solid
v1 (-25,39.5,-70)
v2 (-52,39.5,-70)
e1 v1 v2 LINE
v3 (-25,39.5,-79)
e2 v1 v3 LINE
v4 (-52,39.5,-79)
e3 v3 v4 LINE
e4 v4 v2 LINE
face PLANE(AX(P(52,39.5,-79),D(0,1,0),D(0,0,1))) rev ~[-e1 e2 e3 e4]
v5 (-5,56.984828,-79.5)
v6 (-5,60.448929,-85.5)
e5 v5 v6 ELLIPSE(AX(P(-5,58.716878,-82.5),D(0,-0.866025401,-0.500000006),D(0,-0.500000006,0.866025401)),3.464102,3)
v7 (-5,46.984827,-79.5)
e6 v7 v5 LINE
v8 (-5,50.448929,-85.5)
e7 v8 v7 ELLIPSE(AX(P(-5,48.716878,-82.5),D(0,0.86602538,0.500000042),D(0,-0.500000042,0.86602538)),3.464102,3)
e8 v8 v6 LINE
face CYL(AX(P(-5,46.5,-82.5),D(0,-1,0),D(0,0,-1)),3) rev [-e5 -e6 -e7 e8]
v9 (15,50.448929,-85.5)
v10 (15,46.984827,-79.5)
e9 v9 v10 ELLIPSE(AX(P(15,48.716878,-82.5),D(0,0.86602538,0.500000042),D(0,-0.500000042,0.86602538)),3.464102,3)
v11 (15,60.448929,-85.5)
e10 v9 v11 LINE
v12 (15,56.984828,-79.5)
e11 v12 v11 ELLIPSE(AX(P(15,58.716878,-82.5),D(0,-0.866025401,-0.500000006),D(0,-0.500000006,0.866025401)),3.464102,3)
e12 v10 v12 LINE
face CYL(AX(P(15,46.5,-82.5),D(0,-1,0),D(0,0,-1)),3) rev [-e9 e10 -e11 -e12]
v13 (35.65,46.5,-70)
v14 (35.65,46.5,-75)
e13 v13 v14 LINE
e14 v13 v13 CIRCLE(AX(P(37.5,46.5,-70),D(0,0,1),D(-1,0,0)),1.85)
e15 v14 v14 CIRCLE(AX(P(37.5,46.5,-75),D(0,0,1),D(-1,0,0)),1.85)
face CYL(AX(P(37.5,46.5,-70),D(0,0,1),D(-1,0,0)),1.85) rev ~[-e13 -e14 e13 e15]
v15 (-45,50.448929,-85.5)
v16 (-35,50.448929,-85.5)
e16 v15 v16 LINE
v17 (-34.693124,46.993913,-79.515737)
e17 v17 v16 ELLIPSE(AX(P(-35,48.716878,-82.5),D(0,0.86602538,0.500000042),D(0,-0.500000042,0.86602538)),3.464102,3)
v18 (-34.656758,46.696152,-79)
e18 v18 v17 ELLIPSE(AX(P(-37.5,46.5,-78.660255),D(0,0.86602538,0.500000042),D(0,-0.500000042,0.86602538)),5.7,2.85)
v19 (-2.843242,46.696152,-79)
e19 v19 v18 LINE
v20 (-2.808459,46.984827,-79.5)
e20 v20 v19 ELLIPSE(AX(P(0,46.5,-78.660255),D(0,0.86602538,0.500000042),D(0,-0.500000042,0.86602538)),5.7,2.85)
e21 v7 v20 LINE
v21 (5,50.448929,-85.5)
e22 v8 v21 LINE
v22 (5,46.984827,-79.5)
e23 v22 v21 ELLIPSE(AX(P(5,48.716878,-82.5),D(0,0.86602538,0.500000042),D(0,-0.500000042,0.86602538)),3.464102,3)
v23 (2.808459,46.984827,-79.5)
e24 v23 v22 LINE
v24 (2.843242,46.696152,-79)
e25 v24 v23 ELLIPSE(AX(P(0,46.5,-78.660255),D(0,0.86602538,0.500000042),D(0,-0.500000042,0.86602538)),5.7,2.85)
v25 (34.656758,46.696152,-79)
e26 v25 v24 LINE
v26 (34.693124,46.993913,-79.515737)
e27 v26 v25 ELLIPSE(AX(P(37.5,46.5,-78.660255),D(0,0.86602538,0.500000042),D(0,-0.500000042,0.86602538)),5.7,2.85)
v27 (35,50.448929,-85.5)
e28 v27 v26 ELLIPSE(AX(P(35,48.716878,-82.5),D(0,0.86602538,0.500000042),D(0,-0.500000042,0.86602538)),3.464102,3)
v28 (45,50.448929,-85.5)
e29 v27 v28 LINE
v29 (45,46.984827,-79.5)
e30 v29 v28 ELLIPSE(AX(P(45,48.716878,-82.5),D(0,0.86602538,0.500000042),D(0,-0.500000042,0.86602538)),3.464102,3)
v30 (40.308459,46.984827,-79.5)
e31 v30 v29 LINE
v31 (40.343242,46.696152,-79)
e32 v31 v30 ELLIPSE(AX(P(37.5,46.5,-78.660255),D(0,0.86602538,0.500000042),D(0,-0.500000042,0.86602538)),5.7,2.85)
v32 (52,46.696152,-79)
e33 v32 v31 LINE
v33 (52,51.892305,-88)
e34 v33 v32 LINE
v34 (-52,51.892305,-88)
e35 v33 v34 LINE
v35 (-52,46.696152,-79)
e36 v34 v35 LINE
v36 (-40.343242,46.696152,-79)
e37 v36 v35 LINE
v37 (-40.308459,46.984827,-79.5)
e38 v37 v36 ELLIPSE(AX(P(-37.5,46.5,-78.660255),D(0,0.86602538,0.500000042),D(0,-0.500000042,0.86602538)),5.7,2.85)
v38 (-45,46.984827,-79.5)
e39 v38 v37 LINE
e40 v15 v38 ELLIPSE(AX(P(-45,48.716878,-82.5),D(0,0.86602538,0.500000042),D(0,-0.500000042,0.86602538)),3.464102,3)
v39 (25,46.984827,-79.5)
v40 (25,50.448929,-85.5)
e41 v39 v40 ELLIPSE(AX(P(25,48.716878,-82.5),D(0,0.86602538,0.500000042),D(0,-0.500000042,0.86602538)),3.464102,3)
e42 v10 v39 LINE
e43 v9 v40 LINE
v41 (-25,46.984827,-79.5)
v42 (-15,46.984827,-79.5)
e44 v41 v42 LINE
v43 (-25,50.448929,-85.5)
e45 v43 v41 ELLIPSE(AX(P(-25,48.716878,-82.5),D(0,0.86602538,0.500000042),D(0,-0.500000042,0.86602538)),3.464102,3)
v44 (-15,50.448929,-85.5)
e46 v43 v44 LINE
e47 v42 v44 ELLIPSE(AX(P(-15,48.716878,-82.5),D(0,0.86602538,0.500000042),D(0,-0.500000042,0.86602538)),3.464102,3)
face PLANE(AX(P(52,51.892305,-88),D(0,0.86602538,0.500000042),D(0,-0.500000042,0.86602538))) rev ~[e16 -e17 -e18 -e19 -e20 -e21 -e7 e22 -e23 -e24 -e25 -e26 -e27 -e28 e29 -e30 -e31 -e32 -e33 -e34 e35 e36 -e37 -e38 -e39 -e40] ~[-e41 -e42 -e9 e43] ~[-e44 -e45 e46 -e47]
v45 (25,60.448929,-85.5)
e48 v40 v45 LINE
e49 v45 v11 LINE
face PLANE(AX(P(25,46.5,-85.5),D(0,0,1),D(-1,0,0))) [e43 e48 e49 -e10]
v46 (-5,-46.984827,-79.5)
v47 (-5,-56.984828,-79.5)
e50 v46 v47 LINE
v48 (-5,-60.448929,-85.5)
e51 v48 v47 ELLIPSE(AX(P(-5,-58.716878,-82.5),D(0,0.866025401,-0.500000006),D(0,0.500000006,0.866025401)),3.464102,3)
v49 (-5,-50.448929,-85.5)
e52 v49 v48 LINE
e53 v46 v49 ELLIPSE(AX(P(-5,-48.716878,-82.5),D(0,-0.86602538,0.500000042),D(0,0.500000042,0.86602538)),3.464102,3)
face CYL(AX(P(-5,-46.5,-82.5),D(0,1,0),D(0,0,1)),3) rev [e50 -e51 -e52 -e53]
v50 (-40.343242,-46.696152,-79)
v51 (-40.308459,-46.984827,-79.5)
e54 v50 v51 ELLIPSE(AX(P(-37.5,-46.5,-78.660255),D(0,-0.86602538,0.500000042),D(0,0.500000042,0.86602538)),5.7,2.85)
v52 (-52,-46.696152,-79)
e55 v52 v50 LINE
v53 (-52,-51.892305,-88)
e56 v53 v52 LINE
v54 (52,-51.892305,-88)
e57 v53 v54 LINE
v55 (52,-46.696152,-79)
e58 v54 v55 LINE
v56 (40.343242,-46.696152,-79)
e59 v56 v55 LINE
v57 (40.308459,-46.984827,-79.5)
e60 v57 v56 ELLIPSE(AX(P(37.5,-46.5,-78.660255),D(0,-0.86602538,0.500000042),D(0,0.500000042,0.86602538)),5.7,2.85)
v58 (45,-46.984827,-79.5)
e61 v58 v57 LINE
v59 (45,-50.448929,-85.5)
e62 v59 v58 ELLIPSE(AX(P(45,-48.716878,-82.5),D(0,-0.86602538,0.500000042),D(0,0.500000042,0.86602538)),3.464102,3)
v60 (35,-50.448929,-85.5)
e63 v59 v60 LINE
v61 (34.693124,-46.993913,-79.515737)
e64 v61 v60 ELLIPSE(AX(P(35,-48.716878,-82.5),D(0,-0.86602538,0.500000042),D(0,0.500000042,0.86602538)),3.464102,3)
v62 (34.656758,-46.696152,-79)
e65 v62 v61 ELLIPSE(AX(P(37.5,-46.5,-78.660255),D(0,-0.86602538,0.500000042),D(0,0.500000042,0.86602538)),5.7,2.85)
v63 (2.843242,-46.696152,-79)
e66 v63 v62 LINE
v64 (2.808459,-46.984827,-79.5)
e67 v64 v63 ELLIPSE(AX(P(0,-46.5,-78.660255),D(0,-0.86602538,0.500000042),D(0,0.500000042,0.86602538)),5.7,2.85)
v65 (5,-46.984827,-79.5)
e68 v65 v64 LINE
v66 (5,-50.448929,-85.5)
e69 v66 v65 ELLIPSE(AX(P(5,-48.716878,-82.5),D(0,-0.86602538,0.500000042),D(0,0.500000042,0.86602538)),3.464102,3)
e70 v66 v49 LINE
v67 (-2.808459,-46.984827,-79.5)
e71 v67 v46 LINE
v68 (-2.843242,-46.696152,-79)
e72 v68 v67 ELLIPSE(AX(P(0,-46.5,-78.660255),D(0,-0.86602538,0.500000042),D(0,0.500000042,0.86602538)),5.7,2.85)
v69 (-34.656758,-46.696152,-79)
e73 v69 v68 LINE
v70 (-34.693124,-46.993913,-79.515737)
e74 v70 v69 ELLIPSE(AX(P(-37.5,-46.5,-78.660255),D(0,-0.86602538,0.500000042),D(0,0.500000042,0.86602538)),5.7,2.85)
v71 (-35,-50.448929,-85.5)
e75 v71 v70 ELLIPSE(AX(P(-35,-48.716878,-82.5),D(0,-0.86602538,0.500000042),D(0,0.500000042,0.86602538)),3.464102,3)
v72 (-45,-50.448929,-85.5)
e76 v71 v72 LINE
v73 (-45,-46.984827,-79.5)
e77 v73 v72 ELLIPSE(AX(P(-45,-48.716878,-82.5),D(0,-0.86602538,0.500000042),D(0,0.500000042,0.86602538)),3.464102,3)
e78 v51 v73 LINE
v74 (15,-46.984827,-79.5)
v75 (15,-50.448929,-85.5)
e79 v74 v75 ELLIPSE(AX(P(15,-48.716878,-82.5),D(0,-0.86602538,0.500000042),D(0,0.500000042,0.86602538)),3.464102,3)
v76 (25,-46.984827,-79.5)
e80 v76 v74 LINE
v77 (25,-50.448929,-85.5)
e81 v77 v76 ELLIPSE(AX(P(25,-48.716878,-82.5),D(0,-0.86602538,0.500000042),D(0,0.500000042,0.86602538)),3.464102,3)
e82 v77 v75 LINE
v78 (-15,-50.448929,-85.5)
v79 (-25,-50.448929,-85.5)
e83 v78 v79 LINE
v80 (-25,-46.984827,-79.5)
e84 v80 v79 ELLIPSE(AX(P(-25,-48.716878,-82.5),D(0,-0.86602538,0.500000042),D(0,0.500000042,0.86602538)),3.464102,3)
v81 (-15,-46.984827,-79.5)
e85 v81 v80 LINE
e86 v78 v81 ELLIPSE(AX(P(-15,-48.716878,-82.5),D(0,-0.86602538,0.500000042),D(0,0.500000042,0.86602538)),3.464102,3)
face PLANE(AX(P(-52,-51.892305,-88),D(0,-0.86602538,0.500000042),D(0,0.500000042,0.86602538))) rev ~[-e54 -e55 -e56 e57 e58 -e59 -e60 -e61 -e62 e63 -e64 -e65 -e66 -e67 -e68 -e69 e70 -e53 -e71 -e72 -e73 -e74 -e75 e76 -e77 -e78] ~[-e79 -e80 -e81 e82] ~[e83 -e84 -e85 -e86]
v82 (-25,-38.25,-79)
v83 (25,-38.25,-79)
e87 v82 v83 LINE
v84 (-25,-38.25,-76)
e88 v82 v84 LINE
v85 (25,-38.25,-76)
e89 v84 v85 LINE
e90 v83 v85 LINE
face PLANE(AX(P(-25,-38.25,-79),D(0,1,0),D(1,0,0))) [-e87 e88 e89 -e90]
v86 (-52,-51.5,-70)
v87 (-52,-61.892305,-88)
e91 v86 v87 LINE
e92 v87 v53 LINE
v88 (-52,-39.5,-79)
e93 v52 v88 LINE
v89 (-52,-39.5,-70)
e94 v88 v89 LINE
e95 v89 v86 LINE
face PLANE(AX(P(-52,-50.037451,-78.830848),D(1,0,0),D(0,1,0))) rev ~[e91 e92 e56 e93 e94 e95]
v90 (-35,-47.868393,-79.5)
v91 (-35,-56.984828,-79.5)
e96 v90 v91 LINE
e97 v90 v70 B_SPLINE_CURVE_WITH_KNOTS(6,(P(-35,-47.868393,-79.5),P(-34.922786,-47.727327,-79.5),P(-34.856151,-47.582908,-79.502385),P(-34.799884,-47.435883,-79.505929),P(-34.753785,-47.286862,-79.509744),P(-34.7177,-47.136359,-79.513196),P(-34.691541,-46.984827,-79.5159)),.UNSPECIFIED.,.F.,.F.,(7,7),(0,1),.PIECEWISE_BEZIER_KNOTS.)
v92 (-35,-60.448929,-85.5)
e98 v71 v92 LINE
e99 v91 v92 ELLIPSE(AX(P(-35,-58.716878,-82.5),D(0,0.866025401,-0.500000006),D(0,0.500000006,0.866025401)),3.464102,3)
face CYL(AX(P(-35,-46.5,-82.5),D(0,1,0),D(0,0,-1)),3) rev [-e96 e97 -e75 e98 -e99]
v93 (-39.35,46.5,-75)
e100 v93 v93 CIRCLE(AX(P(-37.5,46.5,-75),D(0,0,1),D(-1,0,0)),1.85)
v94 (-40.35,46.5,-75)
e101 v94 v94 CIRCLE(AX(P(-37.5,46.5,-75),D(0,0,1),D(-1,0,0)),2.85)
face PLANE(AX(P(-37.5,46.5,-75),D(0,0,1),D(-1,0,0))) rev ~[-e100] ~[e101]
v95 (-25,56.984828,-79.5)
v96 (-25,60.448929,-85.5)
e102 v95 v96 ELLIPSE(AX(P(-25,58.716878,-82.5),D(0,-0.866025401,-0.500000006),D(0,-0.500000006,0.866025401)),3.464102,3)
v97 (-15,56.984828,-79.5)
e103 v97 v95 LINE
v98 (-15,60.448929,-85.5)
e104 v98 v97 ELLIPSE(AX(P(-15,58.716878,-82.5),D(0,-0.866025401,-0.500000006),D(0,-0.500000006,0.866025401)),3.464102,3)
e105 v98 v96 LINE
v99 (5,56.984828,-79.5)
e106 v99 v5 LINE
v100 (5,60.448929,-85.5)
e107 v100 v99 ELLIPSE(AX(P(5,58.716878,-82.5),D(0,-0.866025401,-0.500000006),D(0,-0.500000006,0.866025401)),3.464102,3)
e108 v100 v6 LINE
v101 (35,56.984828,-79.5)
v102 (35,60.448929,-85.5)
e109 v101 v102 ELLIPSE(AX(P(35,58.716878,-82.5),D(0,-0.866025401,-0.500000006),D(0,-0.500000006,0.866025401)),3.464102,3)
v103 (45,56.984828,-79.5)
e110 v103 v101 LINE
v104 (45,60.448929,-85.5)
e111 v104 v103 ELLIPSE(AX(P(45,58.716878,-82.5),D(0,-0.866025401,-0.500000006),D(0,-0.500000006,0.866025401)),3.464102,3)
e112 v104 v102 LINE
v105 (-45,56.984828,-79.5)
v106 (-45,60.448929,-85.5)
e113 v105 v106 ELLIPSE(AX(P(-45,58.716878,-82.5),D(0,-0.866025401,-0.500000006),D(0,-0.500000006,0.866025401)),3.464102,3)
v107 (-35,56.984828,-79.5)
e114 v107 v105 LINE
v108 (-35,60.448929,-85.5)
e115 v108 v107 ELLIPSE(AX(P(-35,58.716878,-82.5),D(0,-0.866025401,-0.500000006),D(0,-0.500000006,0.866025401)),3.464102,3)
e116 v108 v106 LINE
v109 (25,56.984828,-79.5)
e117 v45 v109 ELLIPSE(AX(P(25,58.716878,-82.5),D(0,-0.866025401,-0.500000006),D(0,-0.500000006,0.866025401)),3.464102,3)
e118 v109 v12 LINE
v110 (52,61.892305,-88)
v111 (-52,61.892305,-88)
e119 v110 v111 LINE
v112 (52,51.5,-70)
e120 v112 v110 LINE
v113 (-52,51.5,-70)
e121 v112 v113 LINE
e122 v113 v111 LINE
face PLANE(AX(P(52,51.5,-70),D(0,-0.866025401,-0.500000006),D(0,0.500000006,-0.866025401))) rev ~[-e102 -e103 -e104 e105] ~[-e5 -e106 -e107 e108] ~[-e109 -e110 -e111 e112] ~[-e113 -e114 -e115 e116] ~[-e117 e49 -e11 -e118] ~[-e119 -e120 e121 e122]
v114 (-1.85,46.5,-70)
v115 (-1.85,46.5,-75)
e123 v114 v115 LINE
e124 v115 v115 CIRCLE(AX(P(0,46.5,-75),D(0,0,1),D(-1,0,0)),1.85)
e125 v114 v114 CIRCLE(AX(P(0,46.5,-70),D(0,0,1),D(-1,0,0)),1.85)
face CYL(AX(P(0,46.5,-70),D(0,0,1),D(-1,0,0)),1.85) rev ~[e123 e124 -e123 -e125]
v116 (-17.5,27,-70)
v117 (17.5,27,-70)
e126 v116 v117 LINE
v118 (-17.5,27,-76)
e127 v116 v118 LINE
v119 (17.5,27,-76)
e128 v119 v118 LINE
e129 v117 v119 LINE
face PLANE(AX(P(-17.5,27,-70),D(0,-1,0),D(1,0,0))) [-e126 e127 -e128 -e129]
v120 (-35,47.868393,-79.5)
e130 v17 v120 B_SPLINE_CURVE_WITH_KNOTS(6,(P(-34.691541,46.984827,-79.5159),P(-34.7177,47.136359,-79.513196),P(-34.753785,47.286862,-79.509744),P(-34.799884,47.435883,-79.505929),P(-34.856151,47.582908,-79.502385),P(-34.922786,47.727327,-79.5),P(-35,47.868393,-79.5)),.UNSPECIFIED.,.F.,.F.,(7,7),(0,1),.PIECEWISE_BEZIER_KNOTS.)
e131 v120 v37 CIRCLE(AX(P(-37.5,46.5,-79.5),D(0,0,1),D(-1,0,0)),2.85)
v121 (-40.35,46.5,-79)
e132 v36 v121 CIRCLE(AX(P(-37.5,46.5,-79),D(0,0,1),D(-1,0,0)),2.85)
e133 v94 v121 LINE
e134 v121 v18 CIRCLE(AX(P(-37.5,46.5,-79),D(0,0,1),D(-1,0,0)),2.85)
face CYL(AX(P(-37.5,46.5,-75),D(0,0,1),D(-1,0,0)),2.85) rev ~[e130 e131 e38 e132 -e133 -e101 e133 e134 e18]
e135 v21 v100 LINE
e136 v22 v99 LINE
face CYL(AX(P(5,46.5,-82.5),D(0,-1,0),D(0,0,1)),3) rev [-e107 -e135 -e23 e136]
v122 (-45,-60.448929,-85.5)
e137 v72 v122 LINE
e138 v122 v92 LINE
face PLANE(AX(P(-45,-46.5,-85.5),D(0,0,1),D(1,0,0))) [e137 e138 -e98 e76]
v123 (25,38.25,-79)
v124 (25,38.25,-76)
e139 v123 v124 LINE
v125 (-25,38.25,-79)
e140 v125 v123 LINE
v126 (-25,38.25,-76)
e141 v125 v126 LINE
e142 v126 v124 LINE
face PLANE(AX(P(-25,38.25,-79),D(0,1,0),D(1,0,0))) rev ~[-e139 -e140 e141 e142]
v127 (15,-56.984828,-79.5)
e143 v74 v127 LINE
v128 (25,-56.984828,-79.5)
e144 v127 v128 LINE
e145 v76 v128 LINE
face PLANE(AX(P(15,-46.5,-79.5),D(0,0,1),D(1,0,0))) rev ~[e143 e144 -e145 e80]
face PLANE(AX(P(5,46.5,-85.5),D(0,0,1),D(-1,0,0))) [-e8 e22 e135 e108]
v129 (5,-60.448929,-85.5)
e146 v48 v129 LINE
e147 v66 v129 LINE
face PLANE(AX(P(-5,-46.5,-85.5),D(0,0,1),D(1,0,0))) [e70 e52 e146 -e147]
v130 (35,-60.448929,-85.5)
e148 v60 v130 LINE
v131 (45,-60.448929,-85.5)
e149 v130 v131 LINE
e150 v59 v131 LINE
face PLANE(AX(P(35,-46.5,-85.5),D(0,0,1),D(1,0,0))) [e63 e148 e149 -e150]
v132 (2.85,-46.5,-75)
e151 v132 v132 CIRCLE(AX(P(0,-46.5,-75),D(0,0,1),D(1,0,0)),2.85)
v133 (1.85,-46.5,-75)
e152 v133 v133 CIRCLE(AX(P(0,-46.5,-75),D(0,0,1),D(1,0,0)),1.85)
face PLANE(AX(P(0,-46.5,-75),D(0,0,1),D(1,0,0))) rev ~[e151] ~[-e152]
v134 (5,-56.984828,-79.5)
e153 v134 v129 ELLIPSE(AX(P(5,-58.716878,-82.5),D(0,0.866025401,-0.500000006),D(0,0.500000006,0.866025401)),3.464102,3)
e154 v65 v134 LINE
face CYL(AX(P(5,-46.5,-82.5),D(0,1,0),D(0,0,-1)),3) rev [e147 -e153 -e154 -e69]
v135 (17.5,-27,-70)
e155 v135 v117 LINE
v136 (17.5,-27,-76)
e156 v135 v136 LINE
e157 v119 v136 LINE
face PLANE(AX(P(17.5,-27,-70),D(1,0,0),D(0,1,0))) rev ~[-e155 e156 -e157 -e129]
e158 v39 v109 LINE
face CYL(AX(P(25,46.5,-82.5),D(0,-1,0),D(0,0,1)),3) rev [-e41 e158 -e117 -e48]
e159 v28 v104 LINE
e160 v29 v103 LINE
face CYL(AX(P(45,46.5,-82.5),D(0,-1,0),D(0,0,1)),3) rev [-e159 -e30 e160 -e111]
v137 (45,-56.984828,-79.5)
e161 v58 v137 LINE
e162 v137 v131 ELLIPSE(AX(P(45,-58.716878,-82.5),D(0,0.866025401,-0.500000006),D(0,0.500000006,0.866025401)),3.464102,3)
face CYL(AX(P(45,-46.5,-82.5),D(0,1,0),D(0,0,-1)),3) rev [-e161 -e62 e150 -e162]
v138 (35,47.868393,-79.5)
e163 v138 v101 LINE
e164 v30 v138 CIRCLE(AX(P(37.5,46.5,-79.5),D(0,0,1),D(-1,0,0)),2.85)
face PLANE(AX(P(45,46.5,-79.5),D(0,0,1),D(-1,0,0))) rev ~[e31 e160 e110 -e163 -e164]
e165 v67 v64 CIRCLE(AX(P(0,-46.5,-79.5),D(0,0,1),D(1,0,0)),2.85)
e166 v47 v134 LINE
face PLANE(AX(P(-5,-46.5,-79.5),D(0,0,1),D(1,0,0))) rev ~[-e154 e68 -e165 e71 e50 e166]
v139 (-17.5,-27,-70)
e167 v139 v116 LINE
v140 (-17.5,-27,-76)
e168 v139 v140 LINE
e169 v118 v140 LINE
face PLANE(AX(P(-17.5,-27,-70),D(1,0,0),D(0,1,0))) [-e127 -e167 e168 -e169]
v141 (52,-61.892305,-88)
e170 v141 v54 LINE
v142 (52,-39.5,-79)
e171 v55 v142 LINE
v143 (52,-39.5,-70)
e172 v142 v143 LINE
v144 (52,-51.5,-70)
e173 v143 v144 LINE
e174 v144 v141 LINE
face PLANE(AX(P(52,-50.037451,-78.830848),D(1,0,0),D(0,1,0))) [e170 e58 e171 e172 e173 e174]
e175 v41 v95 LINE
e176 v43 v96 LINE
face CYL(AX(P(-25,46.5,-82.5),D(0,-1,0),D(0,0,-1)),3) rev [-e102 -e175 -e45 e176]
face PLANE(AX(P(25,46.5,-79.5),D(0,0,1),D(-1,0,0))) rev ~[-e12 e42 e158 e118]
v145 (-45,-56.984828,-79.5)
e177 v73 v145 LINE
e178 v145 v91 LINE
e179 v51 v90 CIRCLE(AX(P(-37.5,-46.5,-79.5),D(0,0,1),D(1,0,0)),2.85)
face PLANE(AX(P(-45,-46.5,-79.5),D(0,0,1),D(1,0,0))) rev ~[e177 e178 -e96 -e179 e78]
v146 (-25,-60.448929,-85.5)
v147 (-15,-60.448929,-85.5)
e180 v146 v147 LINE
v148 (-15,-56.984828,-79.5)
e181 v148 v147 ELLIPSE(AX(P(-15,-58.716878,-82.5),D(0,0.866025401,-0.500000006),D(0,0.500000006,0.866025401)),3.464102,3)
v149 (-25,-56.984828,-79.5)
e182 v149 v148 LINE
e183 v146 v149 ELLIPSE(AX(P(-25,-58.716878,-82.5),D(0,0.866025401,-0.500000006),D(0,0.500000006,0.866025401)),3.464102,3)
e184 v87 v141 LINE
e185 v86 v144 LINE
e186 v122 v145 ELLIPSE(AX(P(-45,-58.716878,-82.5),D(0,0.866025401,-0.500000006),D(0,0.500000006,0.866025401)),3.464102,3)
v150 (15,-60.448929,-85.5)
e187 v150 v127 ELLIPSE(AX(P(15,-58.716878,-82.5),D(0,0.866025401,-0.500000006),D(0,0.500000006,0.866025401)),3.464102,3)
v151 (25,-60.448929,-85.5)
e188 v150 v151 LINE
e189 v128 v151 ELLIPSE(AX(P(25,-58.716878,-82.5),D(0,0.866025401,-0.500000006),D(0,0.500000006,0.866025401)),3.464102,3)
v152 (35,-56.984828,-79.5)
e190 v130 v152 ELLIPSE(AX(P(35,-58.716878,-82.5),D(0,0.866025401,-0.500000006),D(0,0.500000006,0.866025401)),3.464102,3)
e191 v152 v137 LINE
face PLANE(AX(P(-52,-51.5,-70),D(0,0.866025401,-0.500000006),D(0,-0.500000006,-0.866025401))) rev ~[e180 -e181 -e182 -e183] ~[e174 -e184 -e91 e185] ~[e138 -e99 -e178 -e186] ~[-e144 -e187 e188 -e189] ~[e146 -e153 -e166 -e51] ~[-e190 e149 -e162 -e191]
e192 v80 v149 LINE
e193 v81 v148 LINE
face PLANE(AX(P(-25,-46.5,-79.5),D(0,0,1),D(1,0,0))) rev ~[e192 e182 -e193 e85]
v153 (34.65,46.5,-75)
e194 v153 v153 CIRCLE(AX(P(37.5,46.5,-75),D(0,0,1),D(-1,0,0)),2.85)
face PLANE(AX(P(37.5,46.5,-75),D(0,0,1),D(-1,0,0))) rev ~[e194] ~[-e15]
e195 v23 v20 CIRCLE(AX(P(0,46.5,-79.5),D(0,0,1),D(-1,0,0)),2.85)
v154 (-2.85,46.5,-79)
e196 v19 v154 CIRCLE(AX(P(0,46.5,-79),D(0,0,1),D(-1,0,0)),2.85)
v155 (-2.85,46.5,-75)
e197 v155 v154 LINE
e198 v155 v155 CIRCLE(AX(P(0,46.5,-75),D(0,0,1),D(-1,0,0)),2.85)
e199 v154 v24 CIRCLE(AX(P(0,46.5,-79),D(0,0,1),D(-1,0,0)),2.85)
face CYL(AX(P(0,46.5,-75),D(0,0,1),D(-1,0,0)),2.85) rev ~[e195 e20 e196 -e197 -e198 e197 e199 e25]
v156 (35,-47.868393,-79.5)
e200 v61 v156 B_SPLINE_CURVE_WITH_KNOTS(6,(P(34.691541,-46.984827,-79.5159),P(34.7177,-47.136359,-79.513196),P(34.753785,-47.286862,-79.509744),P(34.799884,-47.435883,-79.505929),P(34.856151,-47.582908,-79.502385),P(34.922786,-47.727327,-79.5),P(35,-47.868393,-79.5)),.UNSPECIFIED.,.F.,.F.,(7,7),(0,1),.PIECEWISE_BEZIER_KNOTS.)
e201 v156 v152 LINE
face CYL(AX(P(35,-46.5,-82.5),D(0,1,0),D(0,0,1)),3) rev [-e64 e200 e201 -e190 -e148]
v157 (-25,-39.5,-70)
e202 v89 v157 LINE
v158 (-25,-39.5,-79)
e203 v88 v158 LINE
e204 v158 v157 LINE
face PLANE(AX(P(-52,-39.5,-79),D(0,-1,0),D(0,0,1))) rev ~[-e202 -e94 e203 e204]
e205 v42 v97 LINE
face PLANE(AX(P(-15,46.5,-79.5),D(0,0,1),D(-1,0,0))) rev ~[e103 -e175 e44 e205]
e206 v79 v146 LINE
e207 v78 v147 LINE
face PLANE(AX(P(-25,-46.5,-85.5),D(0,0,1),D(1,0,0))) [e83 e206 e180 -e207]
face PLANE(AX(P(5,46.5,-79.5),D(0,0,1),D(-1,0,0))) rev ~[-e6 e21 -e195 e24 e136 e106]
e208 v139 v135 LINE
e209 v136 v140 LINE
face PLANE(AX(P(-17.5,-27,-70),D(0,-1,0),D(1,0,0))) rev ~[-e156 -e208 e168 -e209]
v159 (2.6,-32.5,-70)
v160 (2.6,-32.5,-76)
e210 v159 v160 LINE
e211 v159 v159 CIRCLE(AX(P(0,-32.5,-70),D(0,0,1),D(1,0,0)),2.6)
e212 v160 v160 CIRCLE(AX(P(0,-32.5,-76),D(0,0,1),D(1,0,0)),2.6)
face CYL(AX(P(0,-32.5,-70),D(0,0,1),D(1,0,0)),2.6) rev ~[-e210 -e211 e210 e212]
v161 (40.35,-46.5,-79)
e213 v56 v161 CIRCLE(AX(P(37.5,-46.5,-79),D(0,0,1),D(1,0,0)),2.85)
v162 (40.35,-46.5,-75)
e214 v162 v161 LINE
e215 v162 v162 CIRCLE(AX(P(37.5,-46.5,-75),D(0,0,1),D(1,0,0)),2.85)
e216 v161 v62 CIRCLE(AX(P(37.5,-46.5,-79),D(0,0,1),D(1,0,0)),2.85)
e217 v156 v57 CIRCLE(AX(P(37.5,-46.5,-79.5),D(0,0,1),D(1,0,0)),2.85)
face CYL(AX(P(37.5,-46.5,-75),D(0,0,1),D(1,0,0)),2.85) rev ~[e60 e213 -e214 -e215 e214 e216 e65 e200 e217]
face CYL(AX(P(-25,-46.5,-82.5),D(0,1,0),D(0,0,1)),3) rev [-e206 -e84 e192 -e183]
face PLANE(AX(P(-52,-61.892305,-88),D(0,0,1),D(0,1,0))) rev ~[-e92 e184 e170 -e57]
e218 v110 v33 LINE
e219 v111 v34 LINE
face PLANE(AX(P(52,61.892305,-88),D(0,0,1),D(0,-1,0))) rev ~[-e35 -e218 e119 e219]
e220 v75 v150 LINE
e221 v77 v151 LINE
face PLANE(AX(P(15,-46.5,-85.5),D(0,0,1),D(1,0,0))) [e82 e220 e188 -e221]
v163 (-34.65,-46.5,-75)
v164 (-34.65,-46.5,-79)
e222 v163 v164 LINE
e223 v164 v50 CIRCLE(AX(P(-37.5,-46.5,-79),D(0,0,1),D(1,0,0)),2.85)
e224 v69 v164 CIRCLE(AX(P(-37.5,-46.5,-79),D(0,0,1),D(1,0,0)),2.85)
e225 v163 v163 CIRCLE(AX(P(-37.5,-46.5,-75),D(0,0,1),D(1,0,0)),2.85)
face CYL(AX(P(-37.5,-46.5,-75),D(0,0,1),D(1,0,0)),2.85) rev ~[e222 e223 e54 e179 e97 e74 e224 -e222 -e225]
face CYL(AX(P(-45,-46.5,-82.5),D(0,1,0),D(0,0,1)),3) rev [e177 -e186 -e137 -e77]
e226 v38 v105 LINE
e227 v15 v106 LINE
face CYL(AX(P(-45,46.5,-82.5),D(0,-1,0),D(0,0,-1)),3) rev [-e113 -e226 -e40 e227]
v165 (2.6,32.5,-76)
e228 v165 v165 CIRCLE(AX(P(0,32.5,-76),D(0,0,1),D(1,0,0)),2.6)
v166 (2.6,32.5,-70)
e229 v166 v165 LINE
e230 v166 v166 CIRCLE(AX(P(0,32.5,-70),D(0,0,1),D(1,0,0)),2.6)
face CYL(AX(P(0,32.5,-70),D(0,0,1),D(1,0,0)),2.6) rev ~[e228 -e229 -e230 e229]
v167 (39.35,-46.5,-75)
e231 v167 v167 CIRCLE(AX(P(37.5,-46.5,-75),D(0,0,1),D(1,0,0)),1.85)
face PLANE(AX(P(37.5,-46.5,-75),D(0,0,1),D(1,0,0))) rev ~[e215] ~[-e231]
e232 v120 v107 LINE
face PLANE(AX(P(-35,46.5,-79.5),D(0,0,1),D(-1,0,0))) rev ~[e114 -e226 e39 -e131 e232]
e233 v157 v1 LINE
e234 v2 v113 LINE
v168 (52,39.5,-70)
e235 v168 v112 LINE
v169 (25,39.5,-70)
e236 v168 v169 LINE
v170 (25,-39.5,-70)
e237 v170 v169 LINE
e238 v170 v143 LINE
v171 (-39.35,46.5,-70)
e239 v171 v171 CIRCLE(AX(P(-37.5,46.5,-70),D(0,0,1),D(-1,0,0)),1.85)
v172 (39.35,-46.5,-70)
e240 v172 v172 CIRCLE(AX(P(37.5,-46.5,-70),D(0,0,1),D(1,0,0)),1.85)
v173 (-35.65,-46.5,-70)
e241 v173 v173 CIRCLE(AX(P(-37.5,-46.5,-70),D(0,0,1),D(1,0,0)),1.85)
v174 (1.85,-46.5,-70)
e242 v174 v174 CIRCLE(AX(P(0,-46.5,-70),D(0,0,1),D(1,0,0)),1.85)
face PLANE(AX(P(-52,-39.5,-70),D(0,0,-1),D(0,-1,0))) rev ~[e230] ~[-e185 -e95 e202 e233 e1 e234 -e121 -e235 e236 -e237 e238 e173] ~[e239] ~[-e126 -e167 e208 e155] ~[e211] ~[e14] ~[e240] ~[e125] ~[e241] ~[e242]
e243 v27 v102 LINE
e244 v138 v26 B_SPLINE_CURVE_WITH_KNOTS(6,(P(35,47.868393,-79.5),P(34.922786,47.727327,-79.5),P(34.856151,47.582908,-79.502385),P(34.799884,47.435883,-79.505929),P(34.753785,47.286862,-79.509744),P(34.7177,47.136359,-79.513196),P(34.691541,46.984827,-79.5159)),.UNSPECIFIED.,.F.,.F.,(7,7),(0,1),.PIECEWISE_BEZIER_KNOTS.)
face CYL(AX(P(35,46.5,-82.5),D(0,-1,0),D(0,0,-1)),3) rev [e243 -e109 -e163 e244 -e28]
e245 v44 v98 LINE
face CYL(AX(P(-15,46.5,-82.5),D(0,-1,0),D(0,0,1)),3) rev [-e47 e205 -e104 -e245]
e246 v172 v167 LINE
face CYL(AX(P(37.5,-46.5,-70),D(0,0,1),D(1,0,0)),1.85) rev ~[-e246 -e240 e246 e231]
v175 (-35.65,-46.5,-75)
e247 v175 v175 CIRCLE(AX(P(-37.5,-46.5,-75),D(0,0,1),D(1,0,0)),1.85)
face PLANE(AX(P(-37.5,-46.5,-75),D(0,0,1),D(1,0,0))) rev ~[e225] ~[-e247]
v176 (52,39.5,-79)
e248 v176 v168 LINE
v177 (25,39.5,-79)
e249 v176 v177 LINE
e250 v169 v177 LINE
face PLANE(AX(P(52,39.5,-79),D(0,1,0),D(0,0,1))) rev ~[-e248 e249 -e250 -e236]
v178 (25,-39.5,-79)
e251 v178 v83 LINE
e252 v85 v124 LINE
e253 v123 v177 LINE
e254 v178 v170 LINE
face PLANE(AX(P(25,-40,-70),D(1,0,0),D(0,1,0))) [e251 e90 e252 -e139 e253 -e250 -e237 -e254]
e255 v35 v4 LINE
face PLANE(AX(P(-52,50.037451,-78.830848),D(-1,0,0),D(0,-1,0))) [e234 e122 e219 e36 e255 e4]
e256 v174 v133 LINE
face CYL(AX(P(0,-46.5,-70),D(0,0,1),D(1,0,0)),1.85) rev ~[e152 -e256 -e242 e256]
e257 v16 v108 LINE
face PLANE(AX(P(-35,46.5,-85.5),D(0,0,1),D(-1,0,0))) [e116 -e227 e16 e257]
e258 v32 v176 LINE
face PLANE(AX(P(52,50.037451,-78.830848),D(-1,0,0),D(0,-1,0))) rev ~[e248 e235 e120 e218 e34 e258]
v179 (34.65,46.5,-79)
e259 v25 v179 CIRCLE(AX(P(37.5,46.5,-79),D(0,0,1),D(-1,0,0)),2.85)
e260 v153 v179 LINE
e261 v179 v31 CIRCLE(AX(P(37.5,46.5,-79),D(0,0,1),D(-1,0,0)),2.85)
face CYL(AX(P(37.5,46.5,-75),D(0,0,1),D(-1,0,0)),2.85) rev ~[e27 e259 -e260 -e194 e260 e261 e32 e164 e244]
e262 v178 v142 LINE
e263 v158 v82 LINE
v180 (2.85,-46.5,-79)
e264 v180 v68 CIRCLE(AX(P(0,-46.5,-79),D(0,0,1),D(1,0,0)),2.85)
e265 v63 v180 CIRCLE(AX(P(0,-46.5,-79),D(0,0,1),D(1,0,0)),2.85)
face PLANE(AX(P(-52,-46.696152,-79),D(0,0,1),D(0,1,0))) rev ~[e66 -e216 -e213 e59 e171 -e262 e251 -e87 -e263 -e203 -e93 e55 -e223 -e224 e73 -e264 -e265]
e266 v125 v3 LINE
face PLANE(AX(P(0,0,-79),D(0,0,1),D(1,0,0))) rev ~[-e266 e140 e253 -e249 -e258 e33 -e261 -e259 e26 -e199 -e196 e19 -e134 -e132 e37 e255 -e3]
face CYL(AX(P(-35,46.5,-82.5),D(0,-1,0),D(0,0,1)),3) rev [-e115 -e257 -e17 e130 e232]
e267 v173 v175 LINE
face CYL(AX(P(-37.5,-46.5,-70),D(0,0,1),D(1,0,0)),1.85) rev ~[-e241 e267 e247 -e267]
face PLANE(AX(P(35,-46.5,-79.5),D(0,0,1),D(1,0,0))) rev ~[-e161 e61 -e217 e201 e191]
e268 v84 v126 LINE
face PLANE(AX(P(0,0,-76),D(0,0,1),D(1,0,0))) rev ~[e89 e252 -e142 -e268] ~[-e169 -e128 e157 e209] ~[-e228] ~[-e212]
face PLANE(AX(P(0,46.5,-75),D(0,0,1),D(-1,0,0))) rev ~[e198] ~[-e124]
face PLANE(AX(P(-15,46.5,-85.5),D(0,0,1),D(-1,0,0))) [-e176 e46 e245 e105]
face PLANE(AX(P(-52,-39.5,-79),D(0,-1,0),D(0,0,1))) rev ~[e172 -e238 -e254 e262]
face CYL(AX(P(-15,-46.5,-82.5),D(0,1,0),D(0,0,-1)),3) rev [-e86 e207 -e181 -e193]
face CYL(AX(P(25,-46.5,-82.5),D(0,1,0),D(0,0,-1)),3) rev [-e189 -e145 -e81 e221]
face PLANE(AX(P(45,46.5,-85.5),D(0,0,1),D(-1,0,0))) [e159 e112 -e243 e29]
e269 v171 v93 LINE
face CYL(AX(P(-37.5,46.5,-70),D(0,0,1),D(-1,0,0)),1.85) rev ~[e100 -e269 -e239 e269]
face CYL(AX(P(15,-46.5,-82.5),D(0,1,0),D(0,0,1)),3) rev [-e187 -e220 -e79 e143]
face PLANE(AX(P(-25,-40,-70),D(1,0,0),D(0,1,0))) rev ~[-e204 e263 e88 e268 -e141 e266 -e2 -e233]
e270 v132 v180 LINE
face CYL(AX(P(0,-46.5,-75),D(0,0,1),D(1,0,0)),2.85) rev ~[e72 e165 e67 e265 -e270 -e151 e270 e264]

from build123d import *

# Parameters (mm, degrees)
SKETCH070_W      = 50
SKETCH070_H      = 76.5
EXTRUDE069_DEPTH = 3
SKETCH069_W      = 50
SKETCH069_H      = 80
SKETCH069_R      = 2.6
SKETCH069_W_2    = 35
SKETCH069_H_2    = 54
EXTRUDE068_DEPTH = 9
SKETCH061_R      = 1.85
EXTRUDE060_DEPTH = 15
SKETCH076_R      = 2.85
EXTRUDE075_DEPTH = 10
EXTRUDE059_DEPTH = 15
EXTRUDE058_DEPTH = 104
ARRAY018_COUNT   = 2


with BuildPart() as extrude069:
    # Sketch070 → Extrude069 (new body)
    with BuildSketch(Plane.XY):
        Rectangle(SKETCH070_W, SKETCH070_H)
    extrude(amount=EXTRUDE069_DEPTH)


with BuildPart() as extrude069_1:
    # Extrude069 placement: moved
    add(extrude069.part.moved(Location((0, 0, -9))))


with BuildPart() as cut040:
    # Sketch069 → Extrude068 (new body)
    with BuildSketch(Plane.XY):
        Rectangle(SKETCH069_W, SKETCH069_H)
        with Locations((0, 32.5)):
            Circle(SKETCH069_R, mode=Mode.SUBTRACT)
        with Locations((0, -32.5)):
            Circle(SKETCH069_R, mode=Mode.SUBTRACT)
        Rectangle(SKETCH069_W_2, SKETCH069_H_2, mode=Mode.SUBTRACT)
    extrude(amount=-EXTRUDE068_DEPTH)

    # Cut040: cut Extrude069
    add(extrude069_1.part, mode=Mode.SUBTRACT)


with BuildPart() as extrude060:
    # Sketch061 → Extrude060 (new body)
    with BuildSketch(Plane.XY):
        with Locations((-37.5, -7)):
            Circle(SKETCH061_R)
        with Locations((0, -7)):
            Circle(SKETCH061_R)
        with Locations((37.5, -7)):
            Circle(SKETCH061_R)
    extrude(amount=-EXTRUDE060_DEPTH)


with BuildPart() as fusion034004041012:
    # Sketch076 → Extrude075 (new body)
    with BuildSketch(Plane.XY):
        with Locations((-37.5, -7)):
            Circle(SKETCH076_R)
        with Locations((0, -7)):
            Circle(SKETCH076_R)
        with Locations((37.5, -7)):
            Circle(SKETCH076_R)
    extrude(amount=-EXTRUDE075_DEPTH)


with BuildPart() as fusion034004041012_1:
    # Extrude075 placement: moved
    add(fusion034004041012.part.moved(Location((0, 0, -5))))

    # Fusion034004041012: union Extrude060
    add(extrude060.part)


with BuildPart() as extrude059:
    # Sketch060 → Extrude059 (new body)
    with BuildSketch(Plane.XZ):
        with BuildLine():
            ThreePointArc((-25, -7.5), (-28, -10.5), (-25, -13.5))
            Line((-25, -13.5), (-15, -13.5))
            ThreePointArc((-15, -13.5), (-12, -10.5), (-15, -7.5))
            Line((-25, -7.5), (-15, -7.5))
        make_face()
        with BuildLine():
            ThreePointArc((-5, -7.5), (-8, -10.5), (-5, -13.5))
            Line((-5, -13.5), (5, -13.5))
            ThreePointArc((5, -13.5), (8, -10.5), (5, -7.5))
            Line((-5, -7.5), (5, -7.5))
        make_face()
        with BuildLine():
            ThreePointArc((15, -7.5), (12, -10.5), (15, -13.5))
            Line((15, -13.5), (25, -13.5))
            ThreePointArc((25, -13.5), (28, -10.5), (25, -7.5))
            Line((15, -7.5), (25, -7.5))
        make_face()
        with BuildLine():
            ThreePointArc((35, -7.5), (32, -10.5), (35, -13.5))
            Line((35, -13.5), (45, -13.5))
            ThreePointArc((45, -13.5), (48, -10.5), (45, -7.5))
            Line((35, -7.5), (45, -7.5))
        make_face()
        with BuildLine():
            ThreePointArc((-45, -7.5), (-48, -10.5), (-45, -13.5))
            Line((-45, -13.5), (-35, -13.5))
            ThreePointArc((-35, -13.5), (-32, -10.5), (-35, -7.5))
            Line((-45, -7.5), (-35, -7.5))
        make_face()
    extrude(amount=EXTRUDE059_DEPTH)


with BuildPart() as extrude059_1:
    # Extrude059 placement: moved
    add(extrude059.part.moved(Location((0, -7, -2))))


with BuildPart() as landinggearfusion030:
    # Sketch059 → Extrude058 (new body)
    with BuildSketch(Plane.YZ):
        Polygon((0, 0), (-12, 0), (-22.392305, -18), (-12.392305, -18), (-7.196152, -9), (0, -9), align=None)
    extrude(amount=EXTRUDE058_DEPTH)


with BuildPart() as landinggearfusion030_1:
    # Extrude058 placement: moved
    add(landinggearfusion030.part.moved(Location((-52, 0, 0))))

    # Cut033: cut Extrude059
    add(extrude059_1.part, mode=Mode.SUBTRACT)

    # Cut041: cut Fusion034004041012
    add(fusion034004041012_1.part, mode=Mode.SUBTRACT)


with BuildPart() as landinggearfusion030_2:
    # Cut041 placement: moved
    add(landinggearfusion030_1.part.moved(Location((0, -39.5, 0))))

    # Array018: LandingGearFusion030 ×2 about axis
    array018_axis = Axis((0, 0, 0), (0, 0, 1))


with BuildPart() as landinggearfusion030_3:
    add(landinggearfusion030_2.part)
    for i in range(1, ARRAY018_COUNT):
        add(landinggearfusion030_2.part.rotate(array018_axis, i * 360 / ARRAY018_COUNT))

    # Fusion030: union Cut040
    add(cut040.part)


with BuildPart() as landinggearfusion030_4:
    # Fusion030 placement: moved
    add(landinggearfusion030_3.part.moved(Location((0, 0, -70))))


solid = landinggearfusion030_4.part
